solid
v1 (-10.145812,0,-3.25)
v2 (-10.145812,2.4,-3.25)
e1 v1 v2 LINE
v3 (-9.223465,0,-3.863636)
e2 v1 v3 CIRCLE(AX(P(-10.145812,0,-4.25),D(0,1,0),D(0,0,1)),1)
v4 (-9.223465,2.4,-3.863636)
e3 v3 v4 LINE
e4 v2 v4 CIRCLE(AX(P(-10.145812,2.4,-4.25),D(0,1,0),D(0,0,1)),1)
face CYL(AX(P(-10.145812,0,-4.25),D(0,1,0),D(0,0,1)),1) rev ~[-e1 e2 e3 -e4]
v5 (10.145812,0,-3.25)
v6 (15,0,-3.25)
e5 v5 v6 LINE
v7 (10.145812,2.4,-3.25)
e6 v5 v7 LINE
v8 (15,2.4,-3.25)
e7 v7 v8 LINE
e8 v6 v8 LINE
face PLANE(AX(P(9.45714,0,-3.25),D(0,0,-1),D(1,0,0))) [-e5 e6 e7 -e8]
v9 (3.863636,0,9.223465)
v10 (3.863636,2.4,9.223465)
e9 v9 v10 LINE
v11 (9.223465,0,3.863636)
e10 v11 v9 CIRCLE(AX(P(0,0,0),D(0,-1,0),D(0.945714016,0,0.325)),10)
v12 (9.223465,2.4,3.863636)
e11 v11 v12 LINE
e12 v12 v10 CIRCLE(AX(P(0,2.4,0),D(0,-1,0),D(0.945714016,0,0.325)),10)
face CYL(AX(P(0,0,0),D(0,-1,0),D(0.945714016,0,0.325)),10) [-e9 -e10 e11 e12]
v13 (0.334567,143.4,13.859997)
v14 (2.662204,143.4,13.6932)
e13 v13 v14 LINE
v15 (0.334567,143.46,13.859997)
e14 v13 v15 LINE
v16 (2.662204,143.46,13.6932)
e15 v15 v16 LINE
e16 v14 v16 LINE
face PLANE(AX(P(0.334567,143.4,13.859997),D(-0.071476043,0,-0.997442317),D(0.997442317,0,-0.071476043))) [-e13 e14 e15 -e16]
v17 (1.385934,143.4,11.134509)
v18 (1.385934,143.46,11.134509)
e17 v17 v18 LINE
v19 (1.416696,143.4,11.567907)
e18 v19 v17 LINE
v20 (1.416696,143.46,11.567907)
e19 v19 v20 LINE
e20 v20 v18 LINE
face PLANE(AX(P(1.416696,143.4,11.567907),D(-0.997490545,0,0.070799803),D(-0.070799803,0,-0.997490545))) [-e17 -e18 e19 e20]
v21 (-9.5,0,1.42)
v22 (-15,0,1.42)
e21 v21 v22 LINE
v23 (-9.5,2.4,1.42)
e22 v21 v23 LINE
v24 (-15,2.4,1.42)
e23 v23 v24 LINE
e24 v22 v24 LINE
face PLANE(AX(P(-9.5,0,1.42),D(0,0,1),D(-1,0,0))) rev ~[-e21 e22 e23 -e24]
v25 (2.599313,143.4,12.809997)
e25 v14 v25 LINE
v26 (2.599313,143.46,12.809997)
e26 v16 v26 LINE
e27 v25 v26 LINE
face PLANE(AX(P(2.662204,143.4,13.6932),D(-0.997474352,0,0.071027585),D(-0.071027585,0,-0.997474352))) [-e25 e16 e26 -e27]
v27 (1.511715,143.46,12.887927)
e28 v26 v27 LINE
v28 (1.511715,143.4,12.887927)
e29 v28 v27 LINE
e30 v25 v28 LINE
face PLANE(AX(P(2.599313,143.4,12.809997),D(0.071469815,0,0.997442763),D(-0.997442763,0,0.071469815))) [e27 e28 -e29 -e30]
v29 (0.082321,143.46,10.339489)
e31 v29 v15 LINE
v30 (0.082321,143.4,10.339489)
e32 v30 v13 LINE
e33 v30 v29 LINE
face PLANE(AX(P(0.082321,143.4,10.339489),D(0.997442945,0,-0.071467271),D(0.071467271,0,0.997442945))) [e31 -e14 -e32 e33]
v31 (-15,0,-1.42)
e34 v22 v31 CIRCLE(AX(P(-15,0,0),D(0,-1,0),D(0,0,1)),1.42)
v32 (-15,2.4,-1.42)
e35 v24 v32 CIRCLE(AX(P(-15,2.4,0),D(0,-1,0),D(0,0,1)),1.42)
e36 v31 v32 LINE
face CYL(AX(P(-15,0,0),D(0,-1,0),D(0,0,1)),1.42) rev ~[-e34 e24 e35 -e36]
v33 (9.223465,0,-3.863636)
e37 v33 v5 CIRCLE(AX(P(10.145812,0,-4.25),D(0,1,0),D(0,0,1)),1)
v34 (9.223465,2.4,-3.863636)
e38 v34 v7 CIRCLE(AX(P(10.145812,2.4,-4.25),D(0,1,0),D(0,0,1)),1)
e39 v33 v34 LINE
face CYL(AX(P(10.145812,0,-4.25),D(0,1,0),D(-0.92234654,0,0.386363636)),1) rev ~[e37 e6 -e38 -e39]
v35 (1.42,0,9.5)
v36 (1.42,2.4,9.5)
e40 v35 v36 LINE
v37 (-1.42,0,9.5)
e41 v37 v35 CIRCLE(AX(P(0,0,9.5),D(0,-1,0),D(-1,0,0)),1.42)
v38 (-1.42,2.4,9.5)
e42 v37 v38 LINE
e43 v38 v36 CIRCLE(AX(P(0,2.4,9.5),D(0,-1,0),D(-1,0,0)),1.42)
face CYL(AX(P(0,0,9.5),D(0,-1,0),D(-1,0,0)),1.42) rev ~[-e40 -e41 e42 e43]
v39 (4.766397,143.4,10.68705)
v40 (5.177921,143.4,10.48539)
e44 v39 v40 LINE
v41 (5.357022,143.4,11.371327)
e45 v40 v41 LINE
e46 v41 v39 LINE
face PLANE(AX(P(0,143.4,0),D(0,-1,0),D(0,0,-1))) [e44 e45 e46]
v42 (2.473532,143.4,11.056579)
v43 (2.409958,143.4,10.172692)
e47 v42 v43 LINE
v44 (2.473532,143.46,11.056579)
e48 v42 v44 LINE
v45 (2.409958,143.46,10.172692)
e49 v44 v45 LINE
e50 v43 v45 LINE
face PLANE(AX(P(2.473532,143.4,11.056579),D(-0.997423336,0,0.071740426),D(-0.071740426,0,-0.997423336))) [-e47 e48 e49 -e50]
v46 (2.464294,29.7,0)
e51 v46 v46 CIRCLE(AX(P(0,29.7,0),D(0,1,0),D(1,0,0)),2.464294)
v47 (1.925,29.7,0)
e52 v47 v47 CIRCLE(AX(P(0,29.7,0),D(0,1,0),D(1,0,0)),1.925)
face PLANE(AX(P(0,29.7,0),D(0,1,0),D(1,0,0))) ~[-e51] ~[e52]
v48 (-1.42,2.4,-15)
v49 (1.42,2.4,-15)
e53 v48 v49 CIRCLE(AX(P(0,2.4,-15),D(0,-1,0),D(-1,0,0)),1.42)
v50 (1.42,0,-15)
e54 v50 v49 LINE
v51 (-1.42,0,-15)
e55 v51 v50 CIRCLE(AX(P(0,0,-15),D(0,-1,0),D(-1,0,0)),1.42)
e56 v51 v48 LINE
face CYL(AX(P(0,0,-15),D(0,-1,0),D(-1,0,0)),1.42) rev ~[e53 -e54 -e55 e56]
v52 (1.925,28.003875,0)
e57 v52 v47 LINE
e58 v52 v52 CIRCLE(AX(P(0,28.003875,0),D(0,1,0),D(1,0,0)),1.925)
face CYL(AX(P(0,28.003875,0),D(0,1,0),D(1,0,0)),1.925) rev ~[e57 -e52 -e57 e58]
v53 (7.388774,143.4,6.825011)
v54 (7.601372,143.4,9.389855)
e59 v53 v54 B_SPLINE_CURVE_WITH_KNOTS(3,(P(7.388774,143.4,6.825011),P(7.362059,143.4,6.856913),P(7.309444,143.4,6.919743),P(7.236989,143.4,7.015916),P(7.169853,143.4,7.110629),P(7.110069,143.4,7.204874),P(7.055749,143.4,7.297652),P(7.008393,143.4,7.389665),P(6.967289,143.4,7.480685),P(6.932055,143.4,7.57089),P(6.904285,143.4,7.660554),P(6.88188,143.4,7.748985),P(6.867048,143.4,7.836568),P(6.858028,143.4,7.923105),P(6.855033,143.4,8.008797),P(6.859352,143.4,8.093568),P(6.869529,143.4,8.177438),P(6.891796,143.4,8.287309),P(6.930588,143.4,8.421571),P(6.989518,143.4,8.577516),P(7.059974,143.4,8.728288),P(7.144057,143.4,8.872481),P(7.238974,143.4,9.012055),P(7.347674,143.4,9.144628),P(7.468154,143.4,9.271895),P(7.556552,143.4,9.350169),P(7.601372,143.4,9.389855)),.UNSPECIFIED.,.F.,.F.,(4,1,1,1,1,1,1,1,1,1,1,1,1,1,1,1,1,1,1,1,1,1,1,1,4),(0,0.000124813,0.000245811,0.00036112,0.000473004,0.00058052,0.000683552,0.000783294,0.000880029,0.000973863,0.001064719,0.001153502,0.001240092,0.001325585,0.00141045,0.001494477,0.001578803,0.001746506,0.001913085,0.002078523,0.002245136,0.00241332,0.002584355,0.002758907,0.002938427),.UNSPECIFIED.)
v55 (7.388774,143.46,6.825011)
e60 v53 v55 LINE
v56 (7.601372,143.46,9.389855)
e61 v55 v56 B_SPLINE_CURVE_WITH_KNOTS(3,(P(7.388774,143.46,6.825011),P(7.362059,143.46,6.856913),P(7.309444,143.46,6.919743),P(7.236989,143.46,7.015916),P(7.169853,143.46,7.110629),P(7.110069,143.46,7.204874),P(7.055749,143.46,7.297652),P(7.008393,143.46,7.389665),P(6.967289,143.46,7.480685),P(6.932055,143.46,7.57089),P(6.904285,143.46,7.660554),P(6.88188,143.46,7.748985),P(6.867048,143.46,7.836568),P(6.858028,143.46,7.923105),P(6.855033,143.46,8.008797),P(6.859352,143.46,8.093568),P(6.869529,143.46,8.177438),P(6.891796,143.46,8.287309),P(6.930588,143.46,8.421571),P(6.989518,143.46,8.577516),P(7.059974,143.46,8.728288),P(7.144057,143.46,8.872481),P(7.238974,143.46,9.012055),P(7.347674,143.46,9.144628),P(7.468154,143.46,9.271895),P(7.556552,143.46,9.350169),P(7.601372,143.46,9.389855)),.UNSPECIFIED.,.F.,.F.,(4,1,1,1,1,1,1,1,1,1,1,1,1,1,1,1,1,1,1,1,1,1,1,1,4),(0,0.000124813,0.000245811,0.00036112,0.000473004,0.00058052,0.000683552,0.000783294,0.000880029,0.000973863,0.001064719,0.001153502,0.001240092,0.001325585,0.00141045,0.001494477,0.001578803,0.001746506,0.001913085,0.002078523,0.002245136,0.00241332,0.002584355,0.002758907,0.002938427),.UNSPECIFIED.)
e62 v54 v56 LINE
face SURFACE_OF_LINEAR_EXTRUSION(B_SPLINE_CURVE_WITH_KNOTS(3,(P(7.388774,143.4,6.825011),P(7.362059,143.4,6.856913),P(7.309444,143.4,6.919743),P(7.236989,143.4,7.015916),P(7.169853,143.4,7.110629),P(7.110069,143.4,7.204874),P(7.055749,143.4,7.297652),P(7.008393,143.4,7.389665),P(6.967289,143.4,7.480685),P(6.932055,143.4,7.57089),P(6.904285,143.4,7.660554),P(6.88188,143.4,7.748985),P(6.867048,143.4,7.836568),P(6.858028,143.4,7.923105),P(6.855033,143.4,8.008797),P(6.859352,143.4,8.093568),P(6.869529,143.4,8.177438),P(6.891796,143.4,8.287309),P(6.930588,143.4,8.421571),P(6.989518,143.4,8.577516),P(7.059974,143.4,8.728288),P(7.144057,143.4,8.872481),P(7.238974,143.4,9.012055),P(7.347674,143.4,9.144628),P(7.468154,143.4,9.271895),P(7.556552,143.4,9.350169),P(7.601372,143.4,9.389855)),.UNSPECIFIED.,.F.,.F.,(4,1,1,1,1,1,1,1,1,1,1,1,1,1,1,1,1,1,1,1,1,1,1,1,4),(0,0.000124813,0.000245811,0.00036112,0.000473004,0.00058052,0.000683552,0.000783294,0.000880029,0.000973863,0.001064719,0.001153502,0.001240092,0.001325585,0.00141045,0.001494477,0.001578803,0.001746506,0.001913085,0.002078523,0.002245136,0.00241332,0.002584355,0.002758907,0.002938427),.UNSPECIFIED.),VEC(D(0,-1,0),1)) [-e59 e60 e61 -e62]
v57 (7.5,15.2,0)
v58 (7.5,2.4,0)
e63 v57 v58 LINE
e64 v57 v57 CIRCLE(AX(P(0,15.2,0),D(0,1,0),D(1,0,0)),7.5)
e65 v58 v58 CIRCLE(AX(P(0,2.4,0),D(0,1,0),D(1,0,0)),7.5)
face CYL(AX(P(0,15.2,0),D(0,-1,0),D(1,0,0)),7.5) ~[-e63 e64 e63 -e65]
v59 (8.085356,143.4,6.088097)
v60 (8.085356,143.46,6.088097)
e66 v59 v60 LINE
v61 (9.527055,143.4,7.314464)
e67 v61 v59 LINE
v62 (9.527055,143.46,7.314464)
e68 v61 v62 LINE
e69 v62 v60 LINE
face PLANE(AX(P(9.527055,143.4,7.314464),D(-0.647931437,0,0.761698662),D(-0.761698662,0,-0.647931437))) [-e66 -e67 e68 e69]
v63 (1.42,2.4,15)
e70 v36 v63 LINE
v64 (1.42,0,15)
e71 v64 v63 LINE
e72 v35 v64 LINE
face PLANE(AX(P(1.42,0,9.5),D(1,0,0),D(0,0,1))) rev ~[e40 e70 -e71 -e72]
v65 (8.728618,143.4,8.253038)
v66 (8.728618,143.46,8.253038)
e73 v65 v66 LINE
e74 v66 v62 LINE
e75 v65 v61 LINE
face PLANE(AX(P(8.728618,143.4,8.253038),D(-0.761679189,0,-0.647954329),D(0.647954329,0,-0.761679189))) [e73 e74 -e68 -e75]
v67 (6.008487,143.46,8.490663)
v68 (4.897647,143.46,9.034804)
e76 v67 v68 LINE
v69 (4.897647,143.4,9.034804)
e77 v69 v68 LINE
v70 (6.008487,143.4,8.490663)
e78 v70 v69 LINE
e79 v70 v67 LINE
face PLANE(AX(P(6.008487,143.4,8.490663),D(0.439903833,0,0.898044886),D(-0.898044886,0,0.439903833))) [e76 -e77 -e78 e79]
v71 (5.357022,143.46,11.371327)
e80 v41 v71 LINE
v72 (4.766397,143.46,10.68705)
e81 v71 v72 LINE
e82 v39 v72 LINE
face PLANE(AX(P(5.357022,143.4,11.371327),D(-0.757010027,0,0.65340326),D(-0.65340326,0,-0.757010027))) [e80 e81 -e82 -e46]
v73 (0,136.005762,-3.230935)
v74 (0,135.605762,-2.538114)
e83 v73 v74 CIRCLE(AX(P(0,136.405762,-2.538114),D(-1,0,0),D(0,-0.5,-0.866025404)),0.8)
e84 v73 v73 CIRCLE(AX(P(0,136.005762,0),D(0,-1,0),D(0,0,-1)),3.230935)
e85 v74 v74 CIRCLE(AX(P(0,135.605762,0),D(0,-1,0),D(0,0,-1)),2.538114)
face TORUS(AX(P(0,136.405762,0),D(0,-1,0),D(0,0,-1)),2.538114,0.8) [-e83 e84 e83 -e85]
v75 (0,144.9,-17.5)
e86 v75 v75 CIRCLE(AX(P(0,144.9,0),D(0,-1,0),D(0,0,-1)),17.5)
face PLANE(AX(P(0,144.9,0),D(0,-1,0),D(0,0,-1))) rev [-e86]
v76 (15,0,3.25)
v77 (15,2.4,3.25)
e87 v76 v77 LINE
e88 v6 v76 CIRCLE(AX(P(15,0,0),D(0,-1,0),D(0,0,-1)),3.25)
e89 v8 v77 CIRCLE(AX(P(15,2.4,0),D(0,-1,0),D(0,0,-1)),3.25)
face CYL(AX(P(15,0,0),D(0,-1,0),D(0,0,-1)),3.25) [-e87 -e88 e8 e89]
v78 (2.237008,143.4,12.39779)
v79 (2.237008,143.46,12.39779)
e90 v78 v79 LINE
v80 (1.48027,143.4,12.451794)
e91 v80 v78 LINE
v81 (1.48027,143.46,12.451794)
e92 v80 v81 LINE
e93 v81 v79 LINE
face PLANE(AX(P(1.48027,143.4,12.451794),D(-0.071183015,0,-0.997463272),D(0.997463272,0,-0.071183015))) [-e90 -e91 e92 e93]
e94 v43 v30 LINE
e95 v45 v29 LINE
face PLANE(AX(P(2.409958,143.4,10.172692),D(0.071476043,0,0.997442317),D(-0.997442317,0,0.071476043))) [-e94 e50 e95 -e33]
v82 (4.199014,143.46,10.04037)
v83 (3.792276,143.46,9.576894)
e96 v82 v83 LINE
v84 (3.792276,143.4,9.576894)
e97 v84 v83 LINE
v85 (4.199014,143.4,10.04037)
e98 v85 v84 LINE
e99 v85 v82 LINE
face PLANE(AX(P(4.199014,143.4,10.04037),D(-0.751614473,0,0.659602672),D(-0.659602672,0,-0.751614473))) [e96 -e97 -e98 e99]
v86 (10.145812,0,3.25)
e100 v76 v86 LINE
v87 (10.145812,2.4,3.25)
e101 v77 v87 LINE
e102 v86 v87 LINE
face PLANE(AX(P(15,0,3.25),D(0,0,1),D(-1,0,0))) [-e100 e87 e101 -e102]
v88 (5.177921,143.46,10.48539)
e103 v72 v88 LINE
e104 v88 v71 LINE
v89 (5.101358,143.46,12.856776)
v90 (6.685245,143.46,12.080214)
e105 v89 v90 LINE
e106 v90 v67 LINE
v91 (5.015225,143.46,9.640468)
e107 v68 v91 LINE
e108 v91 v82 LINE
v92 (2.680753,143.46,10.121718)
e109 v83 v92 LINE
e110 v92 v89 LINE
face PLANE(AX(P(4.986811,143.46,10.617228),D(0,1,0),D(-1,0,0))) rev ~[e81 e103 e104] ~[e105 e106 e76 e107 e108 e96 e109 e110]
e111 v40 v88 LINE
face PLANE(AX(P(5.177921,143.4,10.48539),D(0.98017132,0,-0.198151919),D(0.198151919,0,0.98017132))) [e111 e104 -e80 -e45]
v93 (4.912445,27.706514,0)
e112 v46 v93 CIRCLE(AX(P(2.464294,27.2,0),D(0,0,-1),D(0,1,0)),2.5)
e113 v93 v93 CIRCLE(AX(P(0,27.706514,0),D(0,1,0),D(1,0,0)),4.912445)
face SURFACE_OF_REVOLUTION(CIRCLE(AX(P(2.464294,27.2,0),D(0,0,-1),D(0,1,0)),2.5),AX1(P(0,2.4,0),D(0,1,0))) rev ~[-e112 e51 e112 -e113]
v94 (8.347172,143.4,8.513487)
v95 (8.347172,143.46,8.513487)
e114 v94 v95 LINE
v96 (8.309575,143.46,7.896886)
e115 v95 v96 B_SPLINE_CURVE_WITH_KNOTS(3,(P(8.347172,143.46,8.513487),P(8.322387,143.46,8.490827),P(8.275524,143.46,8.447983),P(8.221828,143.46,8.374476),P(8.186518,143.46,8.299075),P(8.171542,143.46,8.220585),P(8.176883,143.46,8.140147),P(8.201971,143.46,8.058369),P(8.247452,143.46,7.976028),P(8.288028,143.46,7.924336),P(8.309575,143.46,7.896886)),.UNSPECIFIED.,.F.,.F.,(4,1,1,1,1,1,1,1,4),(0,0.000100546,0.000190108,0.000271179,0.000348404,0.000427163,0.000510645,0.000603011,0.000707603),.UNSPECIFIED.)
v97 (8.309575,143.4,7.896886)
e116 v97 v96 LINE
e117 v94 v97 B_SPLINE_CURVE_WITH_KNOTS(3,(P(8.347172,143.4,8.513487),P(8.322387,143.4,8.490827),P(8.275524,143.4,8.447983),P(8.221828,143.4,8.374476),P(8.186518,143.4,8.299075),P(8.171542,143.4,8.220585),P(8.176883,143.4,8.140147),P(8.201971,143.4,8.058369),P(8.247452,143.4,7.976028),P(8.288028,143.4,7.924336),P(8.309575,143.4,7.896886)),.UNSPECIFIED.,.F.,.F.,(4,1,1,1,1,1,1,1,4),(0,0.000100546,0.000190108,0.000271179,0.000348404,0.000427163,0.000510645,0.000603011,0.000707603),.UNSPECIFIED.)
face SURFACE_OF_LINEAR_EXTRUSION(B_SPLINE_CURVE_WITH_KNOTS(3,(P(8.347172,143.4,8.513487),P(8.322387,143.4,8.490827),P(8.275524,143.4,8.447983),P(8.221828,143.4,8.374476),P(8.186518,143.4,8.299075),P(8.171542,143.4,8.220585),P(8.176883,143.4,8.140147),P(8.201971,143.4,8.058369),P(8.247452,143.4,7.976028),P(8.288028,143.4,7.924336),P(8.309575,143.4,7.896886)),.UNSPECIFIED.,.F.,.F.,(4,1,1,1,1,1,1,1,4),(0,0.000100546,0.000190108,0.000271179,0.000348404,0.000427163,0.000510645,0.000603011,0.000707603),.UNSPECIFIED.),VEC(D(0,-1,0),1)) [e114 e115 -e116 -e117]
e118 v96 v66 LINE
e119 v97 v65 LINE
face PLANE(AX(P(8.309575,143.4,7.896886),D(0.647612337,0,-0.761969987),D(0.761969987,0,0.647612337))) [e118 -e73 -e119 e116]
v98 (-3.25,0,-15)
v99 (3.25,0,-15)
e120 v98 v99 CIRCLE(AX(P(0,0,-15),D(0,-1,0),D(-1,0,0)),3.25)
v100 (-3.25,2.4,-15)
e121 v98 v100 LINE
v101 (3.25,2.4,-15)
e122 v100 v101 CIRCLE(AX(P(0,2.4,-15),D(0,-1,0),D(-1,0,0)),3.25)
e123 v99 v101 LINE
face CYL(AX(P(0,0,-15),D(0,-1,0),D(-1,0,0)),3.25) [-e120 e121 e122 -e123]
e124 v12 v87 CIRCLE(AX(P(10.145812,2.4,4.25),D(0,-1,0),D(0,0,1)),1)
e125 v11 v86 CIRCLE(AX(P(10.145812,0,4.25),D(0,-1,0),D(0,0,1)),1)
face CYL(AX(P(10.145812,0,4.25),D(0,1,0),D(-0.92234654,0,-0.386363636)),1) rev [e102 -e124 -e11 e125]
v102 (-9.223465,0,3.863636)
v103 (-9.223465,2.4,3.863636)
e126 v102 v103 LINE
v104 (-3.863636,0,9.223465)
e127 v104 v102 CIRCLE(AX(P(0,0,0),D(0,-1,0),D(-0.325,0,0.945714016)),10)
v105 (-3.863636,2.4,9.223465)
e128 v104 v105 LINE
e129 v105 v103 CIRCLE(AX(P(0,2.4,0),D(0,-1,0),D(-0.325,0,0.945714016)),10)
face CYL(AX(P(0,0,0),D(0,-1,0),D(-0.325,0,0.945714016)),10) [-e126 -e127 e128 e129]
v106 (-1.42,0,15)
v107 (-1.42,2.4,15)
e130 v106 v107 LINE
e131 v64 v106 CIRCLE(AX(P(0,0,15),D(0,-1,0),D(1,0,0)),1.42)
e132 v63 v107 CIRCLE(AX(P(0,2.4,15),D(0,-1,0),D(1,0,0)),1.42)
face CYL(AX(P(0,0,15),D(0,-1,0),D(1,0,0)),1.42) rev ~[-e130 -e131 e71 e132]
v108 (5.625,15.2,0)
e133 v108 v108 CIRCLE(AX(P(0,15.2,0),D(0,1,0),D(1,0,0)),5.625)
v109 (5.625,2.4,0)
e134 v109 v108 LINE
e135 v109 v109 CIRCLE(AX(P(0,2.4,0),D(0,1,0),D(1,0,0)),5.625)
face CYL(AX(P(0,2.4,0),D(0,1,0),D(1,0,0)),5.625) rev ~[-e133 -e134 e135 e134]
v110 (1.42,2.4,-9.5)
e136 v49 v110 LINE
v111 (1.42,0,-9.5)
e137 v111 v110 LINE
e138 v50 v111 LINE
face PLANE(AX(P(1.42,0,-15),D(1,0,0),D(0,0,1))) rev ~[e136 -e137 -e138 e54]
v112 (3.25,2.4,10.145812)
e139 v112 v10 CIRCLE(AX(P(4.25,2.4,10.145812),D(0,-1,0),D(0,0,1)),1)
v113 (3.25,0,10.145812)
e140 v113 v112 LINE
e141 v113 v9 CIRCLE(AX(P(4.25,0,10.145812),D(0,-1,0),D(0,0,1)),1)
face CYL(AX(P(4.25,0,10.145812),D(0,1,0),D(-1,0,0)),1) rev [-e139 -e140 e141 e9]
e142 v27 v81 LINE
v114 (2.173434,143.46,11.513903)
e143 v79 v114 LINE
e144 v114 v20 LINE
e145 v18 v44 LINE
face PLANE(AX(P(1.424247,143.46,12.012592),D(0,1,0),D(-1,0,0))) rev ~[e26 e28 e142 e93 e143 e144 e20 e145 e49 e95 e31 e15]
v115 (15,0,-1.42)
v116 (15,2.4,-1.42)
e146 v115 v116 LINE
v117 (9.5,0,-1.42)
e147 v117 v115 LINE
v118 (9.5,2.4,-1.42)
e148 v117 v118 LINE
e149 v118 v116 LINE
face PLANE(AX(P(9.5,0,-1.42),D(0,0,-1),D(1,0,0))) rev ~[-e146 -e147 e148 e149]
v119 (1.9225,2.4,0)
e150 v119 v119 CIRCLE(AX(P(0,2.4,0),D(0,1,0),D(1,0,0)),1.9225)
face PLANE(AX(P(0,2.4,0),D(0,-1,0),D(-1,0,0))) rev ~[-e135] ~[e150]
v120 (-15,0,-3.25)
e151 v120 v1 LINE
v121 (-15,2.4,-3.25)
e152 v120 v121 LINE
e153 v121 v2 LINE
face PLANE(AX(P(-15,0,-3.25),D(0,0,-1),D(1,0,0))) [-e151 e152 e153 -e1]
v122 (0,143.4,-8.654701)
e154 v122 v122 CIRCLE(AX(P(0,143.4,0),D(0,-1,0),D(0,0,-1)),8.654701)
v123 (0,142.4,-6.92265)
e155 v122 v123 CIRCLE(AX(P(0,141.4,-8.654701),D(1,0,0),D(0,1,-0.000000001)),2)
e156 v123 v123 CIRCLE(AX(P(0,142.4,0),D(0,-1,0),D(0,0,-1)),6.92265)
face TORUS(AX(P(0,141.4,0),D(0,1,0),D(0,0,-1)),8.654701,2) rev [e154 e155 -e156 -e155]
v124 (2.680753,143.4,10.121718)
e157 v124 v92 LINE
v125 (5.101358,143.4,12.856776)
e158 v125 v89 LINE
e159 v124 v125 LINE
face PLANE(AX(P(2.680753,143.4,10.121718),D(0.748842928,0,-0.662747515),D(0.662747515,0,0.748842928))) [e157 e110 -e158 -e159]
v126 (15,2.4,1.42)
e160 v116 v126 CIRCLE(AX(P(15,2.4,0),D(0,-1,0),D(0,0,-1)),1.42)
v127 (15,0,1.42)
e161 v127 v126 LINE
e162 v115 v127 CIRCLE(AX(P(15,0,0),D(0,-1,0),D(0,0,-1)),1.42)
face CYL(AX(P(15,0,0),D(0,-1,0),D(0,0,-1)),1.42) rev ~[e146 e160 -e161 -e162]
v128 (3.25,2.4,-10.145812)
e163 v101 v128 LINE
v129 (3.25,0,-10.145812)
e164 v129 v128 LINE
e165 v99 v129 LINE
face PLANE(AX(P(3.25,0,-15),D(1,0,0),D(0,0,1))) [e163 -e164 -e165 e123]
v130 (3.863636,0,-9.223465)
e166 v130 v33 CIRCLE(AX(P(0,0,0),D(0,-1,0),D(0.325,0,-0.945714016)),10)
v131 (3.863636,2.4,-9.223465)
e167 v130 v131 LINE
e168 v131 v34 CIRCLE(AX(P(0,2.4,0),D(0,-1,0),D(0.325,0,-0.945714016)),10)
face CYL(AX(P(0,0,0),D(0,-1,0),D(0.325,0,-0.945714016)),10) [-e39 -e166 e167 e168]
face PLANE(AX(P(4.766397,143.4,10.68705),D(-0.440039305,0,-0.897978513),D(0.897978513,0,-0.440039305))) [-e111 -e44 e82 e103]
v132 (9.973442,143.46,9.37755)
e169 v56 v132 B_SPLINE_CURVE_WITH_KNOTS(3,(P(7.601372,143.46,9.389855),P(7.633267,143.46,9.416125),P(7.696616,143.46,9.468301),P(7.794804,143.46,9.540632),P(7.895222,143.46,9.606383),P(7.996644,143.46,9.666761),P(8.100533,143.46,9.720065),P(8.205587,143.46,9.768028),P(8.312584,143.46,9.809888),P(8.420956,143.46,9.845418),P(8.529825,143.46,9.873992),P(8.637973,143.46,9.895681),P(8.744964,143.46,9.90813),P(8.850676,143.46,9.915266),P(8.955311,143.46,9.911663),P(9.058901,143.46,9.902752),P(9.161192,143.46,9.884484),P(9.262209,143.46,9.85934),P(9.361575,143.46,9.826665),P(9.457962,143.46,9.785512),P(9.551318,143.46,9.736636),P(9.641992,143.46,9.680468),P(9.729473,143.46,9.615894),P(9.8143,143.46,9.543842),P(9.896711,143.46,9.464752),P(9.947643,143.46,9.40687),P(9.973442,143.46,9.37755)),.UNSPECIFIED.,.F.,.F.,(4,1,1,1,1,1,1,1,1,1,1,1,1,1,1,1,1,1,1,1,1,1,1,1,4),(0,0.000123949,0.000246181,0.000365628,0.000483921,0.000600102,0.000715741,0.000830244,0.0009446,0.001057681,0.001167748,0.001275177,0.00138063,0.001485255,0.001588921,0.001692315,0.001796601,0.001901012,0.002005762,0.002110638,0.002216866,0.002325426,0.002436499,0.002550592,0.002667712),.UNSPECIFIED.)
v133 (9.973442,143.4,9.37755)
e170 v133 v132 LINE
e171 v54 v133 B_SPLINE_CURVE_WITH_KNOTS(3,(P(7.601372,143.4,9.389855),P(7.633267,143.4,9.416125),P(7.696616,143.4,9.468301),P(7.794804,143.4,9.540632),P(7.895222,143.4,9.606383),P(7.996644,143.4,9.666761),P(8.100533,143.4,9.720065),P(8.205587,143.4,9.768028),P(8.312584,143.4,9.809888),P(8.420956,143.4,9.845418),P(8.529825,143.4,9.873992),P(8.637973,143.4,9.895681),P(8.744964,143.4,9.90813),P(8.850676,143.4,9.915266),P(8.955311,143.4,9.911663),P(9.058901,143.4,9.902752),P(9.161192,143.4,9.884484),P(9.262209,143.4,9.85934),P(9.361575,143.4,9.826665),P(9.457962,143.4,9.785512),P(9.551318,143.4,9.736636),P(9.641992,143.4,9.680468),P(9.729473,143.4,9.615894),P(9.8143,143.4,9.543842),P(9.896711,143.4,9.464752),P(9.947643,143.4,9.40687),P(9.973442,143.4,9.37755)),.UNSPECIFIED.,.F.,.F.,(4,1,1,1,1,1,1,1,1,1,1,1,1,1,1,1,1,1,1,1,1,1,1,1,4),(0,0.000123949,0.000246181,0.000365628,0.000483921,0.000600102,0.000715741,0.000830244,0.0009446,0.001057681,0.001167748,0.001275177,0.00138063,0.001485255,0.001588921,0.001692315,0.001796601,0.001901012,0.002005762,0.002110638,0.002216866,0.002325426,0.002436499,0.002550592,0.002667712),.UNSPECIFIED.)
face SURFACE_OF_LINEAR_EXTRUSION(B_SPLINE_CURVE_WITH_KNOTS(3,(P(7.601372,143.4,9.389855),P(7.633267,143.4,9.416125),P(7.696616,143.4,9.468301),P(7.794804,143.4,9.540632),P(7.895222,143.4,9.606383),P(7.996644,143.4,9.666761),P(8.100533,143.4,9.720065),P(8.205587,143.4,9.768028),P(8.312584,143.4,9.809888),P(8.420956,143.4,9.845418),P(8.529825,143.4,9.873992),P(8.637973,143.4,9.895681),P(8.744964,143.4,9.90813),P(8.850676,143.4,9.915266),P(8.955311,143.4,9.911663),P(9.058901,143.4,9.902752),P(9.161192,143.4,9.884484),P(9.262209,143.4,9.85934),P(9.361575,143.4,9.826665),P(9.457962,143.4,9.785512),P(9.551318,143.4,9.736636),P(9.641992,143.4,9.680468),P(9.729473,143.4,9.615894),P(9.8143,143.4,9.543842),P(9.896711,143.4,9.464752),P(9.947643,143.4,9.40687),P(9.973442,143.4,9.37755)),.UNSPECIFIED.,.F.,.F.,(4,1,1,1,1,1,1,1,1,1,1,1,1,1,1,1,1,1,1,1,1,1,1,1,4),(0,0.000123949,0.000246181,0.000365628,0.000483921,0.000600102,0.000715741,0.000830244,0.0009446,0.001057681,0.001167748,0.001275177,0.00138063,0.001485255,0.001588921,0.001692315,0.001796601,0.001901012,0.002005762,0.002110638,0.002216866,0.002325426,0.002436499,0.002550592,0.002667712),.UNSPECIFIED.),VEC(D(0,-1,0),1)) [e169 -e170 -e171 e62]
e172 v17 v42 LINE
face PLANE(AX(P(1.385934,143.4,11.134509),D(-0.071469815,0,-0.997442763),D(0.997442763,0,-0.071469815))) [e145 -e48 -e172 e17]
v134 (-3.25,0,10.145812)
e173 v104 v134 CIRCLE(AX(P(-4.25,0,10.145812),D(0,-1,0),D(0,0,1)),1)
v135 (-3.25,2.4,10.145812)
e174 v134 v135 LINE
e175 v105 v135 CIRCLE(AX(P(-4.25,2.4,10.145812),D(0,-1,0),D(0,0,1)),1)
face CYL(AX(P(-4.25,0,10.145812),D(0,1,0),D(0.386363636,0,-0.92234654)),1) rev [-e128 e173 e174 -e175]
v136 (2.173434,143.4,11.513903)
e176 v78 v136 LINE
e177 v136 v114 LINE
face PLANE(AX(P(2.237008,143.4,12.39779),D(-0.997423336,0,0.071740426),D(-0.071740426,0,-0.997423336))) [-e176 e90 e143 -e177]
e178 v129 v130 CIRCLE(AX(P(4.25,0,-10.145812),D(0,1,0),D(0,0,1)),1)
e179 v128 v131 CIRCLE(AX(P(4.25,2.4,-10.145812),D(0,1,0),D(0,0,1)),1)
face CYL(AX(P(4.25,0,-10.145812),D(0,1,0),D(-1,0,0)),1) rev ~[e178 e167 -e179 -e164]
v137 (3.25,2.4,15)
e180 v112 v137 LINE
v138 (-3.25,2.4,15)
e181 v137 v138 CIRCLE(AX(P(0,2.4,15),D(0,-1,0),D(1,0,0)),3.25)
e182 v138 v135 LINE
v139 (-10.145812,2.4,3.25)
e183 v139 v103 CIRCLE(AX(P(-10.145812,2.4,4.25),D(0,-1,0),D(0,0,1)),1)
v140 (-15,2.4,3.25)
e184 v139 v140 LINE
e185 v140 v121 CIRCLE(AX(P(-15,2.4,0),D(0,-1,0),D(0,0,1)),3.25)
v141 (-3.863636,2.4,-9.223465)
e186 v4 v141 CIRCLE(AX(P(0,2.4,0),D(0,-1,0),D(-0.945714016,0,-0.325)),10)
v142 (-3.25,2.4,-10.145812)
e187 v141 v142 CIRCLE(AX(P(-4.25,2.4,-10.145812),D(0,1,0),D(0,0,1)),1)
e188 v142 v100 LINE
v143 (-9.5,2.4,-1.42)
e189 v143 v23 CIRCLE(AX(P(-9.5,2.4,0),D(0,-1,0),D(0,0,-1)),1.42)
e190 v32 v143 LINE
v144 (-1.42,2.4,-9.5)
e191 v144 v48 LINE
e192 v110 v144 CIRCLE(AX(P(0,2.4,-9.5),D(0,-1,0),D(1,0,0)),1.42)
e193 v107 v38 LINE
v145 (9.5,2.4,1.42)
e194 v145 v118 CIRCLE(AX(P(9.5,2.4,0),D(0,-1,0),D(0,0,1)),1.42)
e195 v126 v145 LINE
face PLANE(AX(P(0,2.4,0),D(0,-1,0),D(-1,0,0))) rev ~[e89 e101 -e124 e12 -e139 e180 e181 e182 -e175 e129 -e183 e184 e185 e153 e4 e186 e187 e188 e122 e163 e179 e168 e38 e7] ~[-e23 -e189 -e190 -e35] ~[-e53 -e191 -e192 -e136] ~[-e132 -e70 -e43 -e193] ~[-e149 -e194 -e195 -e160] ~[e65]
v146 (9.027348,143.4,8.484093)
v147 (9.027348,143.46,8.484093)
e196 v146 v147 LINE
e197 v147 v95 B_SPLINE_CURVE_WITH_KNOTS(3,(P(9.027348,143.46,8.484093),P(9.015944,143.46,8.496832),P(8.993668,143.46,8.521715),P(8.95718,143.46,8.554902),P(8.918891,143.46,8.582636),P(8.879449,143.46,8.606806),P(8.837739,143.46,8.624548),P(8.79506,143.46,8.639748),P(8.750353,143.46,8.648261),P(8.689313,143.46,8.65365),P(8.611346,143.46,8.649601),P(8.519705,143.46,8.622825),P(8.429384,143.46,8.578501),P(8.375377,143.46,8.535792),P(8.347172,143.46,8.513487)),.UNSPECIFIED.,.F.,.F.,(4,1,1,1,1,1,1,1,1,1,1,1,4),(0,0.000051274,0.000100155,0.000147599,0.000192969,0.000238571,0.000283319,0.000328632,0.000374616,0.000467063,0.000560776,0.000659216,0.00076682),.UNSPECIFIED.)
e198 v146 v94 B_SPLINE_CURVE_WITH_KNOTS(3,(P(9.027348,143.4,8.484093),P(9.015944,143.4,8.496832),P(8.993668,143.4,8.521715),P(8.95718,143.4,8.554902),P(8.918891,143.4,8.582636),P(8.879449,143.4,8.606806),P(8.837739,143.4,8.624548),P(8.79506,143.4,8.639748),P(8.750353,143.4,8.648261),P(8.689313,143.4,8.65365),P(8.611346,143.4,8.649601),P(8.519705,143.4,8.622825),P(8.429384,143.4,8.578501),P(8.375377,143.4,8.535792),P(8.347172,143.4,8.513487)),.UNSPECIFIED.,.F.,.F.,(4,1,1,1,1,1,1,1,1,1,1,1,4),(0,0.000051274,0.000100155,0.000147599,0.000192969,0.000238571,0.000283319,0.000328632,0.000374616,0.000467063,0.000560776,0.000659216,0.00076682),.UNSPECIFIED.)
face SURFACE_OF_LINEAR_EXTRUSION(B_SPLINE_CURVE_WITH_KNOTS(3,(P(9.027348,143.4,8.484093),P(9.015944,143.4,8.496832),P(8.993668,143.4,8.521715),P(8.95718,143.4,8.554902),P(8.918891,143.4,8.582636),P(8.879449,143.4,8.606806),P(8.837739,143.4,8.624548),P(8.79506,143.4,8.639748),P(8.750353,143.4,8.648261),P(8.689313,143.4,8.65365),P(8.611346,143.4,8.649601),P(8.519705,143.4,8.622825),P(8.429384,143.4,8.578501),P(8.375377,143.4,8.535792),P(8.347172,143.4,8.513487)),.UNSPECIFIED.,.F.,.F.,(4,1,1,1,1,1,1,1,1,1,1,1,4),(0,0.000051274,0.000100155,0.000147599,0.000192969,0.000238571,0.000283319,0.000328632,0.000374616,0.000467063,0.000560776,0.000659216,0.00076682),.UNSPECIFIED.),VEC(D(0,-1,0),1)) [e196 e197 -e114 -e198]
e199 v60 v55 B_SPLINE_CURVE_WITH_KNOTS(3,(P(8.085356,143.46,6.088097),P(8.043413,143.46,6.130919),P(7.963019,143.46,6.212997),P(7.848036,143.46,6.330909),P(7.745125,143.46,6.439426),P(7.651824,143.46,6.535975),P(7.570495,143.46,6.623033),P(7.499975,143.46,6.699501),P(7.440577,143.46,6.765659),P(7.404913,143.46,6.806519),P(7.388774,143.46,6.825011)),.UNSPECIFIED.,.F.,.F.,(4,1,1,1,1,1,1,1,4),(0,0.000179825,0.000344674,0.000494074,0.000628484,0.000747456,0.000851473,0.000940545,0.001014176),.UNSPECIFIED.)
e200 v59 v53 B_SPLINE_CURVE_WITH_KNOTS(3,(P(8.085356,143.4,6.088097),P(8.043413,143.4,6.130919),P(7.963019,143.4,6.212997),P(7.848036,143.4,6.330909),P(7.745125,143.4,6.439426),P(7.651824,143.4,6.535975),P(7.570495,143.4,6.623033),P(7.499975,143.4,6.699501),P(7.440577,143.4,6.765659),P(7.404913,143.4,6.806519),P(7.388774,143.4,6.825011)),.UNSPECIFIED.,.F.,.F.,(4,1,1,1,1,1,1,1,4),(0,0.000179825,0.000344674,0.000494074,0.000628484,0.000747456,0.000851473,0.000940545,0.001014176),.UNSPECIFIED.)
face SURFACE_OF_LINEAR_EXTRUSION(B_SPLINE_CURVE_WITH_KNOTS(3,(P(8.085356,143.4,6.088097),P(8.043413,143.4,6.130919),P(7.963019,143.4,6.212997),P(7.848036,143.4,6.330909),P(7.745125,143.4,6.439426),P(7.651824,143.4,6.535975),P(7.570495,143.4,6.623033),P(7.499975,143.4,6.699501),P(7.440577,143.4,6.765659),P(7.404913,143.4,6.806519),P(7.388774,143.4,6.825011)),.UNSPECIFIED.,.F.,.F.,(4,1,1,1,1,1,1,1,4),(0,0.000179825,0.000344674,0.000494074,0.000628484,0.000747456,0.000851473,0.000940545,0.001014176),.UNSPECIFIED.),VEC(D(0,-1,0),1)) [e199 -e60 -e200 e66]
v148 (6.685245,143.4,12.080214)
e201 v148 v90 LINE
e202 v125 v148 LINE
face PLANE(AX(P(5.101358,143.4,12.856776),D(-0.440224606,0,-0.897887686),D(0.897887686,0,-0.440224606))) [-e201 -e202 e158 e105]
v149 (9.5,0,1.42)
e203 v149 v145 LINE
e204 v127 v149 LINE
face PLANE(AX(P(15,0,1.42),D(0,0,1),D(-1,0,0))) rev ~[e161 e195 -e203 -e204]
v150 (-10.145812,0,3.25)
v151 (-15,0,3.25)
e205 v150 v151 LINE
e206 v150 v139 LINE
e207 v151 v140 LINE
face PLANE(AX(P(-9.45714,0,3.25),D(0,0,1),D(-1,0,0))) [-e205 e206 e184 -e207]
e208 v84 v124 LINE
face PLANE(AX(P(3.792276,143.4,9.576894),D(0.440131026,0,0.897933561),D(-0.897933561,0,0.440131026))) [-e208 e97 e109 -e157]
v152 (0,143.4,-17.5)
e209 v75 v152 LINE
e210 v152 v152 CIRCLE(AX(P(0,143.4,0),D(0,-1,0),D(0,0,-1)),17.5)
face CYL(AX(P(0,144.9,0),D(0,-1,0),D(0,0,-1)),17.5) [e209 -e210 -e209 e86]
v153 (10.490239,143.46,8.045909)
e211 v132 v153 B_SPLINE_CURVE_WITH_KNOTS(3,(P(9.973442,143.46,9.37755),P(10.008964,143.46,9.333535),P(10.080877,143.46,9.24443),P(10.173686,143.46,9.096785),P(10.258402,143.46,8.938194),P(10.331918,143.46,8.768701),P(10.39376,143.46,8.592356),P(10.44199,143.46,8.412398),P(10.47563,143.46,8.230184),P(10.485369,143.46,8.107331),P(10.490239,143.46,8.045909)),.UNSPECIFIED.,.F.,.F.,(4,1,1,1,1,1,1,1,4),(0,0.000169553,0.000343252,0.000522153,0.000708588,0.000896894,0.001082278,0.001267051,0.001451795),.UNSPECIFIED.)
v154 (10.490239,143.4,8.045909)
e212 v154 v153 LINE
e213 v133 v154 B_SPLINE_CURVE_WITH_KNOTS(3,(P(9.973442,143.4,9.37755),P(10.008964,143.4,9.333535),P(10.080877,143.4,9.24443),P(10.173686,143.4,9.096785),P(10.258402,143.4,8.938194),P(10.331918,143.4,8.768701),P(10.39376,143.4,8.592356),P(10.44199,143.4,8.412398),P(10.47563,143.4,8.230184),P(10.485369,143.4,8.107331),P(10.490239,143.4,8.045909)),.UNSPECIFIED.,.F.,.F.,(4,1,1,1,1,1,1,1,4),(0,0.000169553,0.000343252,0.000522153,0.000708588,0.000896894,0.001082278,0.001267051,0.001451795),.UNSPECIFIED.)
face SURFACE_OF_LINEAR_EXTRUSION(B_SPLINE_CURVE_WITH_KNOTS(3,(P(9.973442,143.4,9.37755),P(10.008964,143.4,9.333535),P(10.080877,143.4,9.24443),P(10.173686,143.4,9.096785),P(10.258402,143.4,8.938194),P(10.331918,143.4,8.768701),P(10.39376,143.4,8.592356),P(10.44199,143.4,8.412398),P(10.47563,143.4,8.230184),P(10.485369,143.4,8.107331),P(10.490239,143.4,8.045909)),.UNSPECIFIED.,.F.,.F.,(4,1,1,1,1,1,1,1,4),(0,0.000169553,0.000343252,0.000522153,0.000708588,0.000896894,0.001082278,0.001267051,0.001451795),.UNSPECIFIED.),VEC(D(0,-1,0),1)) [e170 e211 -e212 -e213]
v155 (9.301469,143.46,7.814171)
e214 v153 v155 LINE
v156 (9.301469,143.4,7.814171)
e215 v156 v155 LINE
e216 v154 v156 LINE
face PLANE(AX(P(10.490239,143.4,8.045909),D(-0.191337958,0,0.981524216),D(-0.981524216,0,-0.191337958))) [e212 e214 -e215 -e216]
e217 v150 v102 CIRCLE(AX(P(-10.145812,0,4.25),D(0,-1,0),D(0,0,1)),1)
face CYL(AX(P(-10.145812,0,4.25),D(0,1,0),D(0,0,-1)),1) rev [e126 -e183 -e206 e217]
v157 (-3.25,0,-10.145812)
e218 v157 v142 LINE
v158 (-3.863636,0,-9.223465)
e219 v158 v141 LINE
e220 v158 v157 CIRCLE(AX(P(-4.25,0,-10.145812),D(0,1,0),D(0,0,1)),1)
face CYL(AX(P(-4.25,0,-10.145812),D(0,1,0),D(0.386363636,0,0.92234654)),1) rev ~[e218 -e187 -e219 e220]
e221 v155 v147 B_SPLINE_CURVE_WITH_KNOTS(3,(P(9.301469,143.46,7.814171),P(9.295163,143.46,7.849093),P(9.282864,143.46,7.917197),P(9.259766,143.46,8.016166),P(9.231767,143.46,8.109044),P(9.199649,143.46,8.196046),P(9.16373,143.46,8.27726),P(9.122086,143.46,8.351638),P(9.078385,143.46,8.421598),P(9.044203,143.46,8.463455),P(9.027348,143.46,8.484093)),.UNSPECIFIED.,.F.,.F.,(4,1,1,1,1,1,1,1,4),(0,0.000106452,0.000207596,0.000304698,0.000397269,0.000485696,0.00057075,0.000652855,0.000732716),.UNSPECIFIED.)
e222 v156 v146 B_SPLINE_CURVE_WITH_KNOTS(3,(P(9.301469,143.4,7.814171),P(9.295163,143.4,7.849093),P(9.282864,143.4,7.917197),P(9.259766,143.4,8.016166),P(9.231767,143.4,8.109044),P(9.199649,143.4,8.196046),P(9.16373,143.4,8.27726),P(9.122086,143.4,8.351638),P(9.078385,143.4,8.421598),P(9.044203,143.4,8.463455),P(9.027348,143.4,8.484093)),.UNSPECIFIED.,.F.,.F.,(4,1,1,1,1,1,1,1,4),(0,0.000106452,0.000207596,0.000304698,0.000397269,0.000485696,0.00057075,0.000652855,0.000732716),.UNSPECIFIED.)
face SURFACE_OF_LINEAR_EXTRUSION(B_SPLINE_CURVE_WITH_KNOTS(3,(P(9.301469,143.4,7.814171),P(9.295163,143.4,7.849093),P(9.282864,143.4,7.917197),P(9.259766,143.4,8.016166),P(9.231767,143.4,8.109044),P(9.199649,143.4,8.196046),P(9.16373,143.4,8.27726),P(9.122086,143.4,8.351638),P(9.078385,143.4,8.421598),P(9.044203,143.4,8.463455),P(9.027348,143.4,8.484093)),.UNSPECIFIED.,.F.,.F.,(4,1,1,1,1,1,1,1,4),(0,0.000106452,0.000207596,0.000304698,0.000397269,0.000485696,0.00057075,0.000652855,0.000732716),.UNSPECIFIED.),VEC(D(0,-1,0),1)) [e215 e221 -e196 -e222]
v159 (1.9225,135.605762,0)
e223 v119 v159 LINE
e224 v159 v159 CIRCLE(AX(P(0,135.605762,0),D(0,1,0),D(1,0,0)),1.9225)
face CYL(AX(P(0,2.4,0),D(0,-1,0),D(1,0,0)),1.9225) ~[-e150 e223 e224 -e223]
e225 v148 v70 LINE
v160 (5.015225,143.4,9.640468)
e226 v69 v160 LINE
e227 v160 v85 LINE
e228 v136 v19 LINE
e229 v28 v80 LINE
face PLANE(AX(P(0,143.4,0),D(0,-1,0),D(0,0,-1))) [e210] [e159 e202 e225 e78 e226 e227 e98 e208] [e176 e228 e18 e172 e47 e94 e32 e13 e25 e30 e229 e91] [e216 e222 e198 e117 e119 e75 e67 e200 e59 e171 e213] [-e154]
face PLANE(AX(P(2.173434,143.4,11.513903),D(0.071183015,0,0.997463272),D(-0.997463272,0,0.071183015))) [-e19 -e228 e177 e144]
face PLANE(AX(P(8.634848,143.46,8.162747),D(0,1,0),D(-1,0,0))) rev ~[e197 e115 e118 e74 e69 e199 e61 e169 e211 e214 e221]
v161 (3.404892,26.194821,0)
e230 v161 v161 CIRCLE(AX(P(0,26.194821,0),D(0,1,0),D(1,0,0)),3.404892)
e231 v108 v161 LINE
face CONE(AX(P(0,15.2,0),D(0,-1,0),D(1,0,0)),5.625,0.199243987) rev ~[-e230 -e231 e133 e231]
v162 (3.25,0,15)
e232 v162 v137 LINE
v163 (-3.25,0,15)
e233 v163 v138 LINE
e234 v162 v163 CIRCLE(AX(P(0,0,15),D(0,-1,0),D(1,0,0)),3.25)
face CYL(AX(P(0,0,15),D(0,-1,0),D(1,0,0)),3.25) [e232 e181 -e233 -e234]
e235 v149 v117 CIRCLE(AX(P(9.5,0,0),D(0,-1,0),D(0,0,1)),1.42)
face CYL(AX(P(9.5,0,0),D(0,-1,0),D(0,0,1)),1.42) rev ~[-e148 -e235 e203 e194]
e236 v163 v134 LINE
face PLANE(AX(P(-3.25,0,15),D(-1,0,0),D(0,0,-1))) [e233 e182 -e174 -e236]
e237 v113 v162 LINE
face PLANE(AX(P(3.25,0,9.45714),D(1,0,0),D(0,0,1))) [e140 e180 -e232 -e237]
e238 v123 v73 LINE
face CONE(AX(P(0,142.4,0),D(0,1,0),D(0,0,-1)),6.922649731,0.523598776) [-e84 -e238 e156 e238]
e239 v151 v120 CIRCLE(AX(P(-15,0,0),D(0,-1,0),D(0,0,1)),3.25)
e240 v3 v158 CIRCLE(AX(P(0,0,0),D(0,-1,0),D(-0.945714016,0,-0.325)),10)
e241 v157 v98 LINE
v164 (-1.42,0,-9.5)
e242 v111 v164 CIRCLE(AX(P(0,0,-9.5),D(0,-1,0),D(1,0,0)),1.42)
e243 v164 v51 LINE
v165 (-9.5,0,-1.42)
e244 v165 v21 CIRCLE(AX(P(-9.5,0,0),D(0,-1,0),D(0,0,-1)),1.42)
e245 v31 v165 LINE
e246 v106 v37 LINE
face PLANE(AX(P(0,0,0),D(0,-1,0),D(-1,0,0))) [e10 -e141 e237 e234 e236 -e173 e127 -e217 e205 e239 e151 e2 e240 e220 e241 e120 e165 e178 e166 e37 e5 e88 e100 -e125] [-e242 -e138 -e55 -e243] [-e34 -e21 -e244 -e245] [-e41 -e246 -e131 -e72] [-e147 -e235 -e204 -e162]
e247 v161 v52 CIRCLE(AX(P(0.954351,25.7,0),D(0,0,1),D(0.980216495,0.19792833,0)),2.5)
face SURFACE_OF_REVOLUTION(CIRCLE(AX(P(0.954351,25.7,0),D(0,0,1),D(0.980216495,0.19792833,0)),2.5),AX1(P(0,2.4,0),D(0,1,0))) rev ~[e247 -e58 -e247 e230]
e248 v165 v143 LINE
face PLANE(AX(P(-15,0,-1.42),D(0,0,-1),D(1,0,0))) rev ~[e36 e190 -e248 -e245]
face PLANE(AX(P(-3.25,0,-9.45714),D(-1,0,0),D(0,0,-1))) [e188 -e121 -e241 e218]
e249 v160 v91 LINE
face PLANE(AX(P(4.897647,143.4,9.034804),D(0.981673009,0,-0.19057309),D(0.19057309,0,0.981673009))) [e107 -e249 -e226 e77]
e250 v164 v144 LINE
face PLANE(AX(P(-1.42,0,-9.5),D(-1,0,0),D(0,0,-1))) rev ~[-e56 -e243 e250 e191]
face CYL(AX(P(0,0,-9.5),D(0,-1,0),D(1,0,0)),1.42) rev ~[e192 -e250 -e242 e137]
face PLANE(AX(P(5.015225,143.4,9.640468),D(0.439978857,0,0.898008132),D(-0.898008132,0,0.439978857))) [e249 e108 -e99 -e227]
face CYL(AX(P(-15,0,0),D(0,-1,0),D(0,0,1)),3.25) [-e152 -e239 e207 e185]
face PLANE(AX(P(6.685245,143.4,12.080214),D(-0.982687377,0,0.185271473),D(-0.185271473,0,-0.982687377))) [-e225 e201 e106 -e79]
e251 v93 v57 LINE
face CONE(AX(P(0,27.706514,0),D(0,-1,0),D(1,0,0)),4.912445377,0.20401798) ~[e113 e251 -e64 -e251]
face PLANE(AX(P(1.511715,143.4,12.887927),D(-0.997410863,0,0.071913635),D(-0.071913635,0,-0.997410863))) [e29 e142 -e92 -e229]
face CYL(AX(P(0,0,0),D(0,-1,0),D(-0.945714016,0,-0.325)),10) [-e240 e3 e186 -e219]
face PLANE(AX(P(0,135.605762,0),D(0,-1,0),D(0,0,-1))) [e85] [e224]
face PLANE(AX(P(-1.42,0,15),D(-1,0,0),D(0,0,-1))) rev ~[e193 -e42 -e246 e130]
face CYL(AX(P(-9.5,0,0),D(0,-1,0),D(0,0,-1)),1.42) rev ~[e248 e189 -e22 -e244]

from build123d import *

# Parameters (mm, degrees)
BOSS_EXTRUDE1_DEPTH   = 2.4
FILLET1_R             = 1
SKETCH3_R             = 1.9225
BOSS_EXTRUDE2_DEPTH   = 141
KES_EKSTR_ZYON1_DEPTH = 0.06


with BuildPart() as part:
    # Sketch1 → Boss-Extrude1 (new body)
    with BuildSketch(Plane(origin=(0, 0, 0), x_dir=(1, 0, 0), z_dir=(0, 1, 0))):
        with BuildLine():
            Line((-15, 3.25), (-9.45714016, 3.25))
            ThreePointArc((-9.45714016, 3.25), (-7.071067812, 7.071067812), (-3.25, 9.45714016))
            Line((-3.25, 9.45714016), (-3.25, 15))
            ThreePointArc((-3.25, 15), (0, 18.25), (3.25, 15))
            Line((3.25, 15), (3.25, 9.45714016))
            ThreePointArc((3.25, 9.45714016), (7.071067812, 7.071067812), (9.45714016, 3.25))
            Line((9.45714016, 3.25), (15, 3.25))
            ThreePointArc((15, 3.25), (18.25, 0), (15, -3.25))
            Line((15, -3.25), (9.45714016, -3.25))
            ThreePointArc((9.45714016, -3.25), (7.071067812, -7.071067812), (3.25, -9.45714016))
            Line((3.25, -9.45714016), (3.25, -15))
            ThreePointArc((3.25, -15), (0, -18.25), (-3.25, -15))
            Line((-3.25, -15), (-3.25, -9.45714016))
            ThreePointArc((-3.25, -9.45714016), (-7.071067812, -7.071067812), (-9.45714016, -3.25))
            Line((-9.45714016, -3.25), (-15, -3.25))
            ThreePointArc((-15, -3.25), (-18.25, 0), (-15, 3.25))
        make_face()
        with BuildLine():
            Line((-15, 1.42), (-9.5, 1.42))
            ThreePointArc((-9.5, 1.42), (-8.08, 0), (-9.5, -1.42))
            Line((-9.5, -1.42), (-15, -1.42))
            ThreePointArc((-15, -1.42), (-16.42, 0), (-15, 1.42))
        make_face(mode=Mode.SUBTRACT)
        with BuildLine():
            Line((1.42, 15), (1.42, 9.5))
            ThreePointArc((1.42, 9.5), (0, 8.08), (-1.42, 9.5))
            Line((-1.42, 9.5), (-1.42, 15))
            ThreePointArc((-1.42, 15), (0, 16.42), (1.42, 15))
        make_face(mode=Mode.SUBTRACT)
        with BuildLine():
            Line((15, -1.42), (9.5, -1.42))
            ThreePointArc((9.5, -1.42), (8.08, 0), (9.5, 1.42))
            Line((9.5, 1.42), (15, 1.42))
            ThreePointArc((15, 1.42), (16.42, 0), (15, -1.42))
        make_face(mode=Mode.SUBTRACT)
        with BuildLine():
            Line((-1.42, -15), (-1.42, -9.5))
            ThreePointArc((-1.42, -9.5), (0, -8.08), (1.42, -9.5))
            Line((1.42, -9.5), (1.42, -15))
            ThreePointArc((1.42, -15), (0, -16.42), (-1.42, -15))
        make_face(mode=Mode.SUBTRACT)
    extrude(amount=BOSS_EXTRUDE1_DEPTH)

    # Fillet1
    fillet1_edges = [part.edges().sort_by_distance(p)[0] for p in [
        (-9.45714016, 1.2, -3.25),
        (-3.25, 1.2, -9.45714016),
        (3.25, 1.2, -9.45714016),
        (9.45714016, 1.2, -3.25),
        (9.45714016, 1.2, 3.25),
        (3.25, 1.2, 9.45714016),
        (-3.25, 1.2, 9.45714016),
        (-9.45714016, 1.2, 3.25),
    ]]
    fillet(fillet1_edges, radius=FILLET1_R)

    # Sketch2 → Revolve1 (revolve)
    with BuildSketch(Plane.XY):
        with BuildLine():
            Line((1.925, 29.7), (2.464294328, 29.7))
            ThreePointArc((2.464294328, 29.7), (4.04285617, 29.138592921), (4.912445377, 27.70651401))
            Line((4.912445377, 27.70651401), (7.5, 15.2))
            Line((7.5, 15.2), (7.5, 2.4))
            Line((7.5, 2.4), (5.625, 2.4))
            Line((5.625, 2.4), (5.625, 15.2))
            Line((5.625, 15.2), (3.404891948, 26.194820827))
            ThreePointArc((3.404891948, 26.194820827), (2.889371485, 27.2829386), (1.925, 28.003874988))
            Line((1.925, 28.003874988), (1.925, 29.7))
        make_face()
    revolve(axis=Axis((0, 2.4, 0), (0, 1, 0)))

    # Sketch3 → Boss-Extrude2 (add)
    with BuildSketch(Plane(origin=(0, 2.4, 0), x_dir=(1, 0, 0), z_dir=(0, 1, 0))):
        Circle(SKETCH3_R)
    extrude(amount=BOSS_EXTRUDE2_DEPTH)

    # Sketch4 → Revolve2 (revolve)
    with BuildSketch(Plane(origin=(0, 0, 0), x_dir=(0, 0, -1), z_dir=(1, 0, 0))):
        with BuildLine():
            Line((6.922649731, 142.4), (3.230934575, 136.005761782))
            ThreePointArc((3.230934575, 136.005761782), (2.938114252, 135.712941459), (2.538114252, 135.605761782))
            Line((2.538114252, 135.605761782), (1.9225, 135.605761782))
            Line((1.9225, 135.605761782), (1.9225, 143.4))
            Line((1.9225, 143.4), (0, 143.4))
            Line((0, 143.4), (0, 144.9))
            Line((0, 144.9), (17.5, 144.9))
            Line((17.5, 144.9), (17.5, 143.4))
            Line((17.5, 143.4), (8.654700538, 143.4))
            ThreePointArc((8.654700538, 143.4), (7.654700538, 143.132050808), (6.922649731, 142.4))
        make_face()
    revolve(axis=Axis((0, 143.4, 0), (0, -1, 0)))

    # Çizim1 → Kes-Ekstrüzyon1 (cut)
    with BuildSketch(Plane.XZ.offset(-143.4)):
        Polygon((2.473531895, 11.056579199), (2.409957676, 10.172692481), (0.082320957, 10.339489356), (0.334567051, 13.859997168), (2.66220377, 13.693200293), (2.599313145, 12.809997168), (1.511715488, 12.887926856), (1.480270176, 12.451794043), (2.237008457, 12.397790137), (2.173434238, 11.513903418), (1.416695957, 11.567907324), (1.385934238, 11.134508887), align=None)
        Polygon((3.792276096, 9.57689352), (2.680752659, 10.121717739), (5.101358127, 12.856776332), (6.685244846, 12.080213832), (6.008487034, 8.490663051), (4.89764719, 9.034803676), (5.015225315, 9.640467739), (4.199014377, 10.040370082), align=None)
        Polygon((4.76639719, 10.68704977), (5.177920627, 10.485389614), (5.35702219, 11.371327114), align=None, mode=Mode.SUBTRACT)
        with BuildLine():
            Line((10.49023887, 8.045909213), (9.301469339, 7.814170932))
            add(Edge.make_bspline(
                [(9.301469339, 7.814170932), (9.295162601, 7.849093276), (9.282863589, 7.91719668), (9.259765757, 8.016165899), (9.231766875, 8.109044475), (9.199649304, 8.196046435), (9.163730366, 8.277260103), (9.122086055, 8.351638268), (9.078384744, 8.421598141), (9.044202502, 8.463454613), (9.027348245, 8.484092807)],
                knots=[0, 0, 0, 0, 0.000106452, 0.000207596, 0.000304698, 0.000397269, 0.000485696, 0.00057075, 0.000652855, 0.000732716, 0.000732716, 0.000732716, 0.000732716], degree=3))
            add(Edge.make_bspline(
                [(9.027348245, 8.484092807), (9.01594409, 8.496831925), (8.993668142, 8.52171548), (8.957180327, 8.554902215), (8.918891069, 8.58263641), (8.879448715, 8.606805989), (8.837738681, 8.624547904), (8.795060394, 8.639748228), (8.750352942, 8.648261409), (8.689312805, 8.653650441), (8.61134576, 8.649600922), (8.51970475, 8.622824869), (8.429383641, 8.578500593), (8.375376925, 8.535791651), (8.347172464, 8.513487338)],
                knots=[0, 0, 0, 0, 5.1274e-05, 0.000100155, 0.000147599, 0.000192969, 0.000238571, 0.000283319, 0.000328632, 0.000374616, 0.000467063, 0.000560776, 0.000659216, 0.00076682, 0.00076682, 0.00076682, 0.00076682], degree=3))
            add(Edge.make_bspline(
                [(8.347172464, 8.513487338), (8.32238698, 8.49082732), (8.275523945, 8.447982998), (8.221828166, 8.374475546), (8.186518469, 8.299074978), (8.171541706, 8.220584969), (8.176882746, 8.140146557), (8.201970979, 8.058369087), (8.24745169, 7.976028431), (8.288027536, 7.924336237), (8.309574808, 7.896885776)],
                knots=[0, 0, 0, 0, 0.000100546, 0.000190108, 0.000271179, 0.000348404, 0.000427163, 0.000510645, 0.000603011, 0.000707603, 0.000707603, 0.000707603, 0.000707603], degree=3))
            Line((8.309574808, 7.896885776), (8.728617776, 8.253038119))
            Line((8.728617776, 8.253038119), (9.527055276, 7.314463901))
            Line((9.527055276, 7.314463901), (8.085356058, 6.088096713))
            add(Edge.make_bspline(
                [(8.085356058, 6.088096713), (8.043412666, 6.130918963), (7.963019255, 6.212996893), (7.848036495, 6.330909372), (7.745125301, 6.439426088), (7.651824198, 6.535975119), (7.570495488, 6.623033205), (7.499975002, 6.699500807), (7.440576701, 6.765659164), (7.404913451, 6.806519435), (7.388774026, 6.825010776)],
                knots=[0, 0, 0, 0, 0.000179825, 0.000344674, 0.000494074, 0.000628484, 0.000747456, 0.000851473, 0.000940545, 0.001014176, 0.001014176, 0.001014176, 0.001014176], degree=3))
            add(Edge.make_bspline(
                [(7.388774026, 6.825010776), (7.362058603, 6.85691328), (7.309444418, 6.919743064), (7.236989178, 7.015916122), (7.169853497, 7.110629262), (7.110069184, 7.204873936), (7.055748887, 7.297651818), (7.008392801, 7.389665379), (6.967289467, 7.480685486), (6.932054654, 7.570889978), (6.904285219, 7.660554079), (6.881879716, 7.748984602), (6.867047818, 7.836567991), (6.8580281, 7.923104859), (6.855033423, 8.008796842), (6.859351934, 8.093567562), (6.869528685, 8.177437845), (6.89179563, 8.287308778), (6.930587621, 8.421570582), (6.989518301, 8.577515834), (7.059974362, 8.728287923), (7.144056677, 8.87248116), (7.238974286, 9.012055008), (7.347673596, 9.144627972), (7.468154157, 9.271895089), (7.556552427, 9.35016865), (7.601371683, 9.389854526)],
                knots=[0, 0, 0, 0, 0.000124813, 0.000245811, 0.00036112, 0.000473004, 0.00058052, 0.000683552, 0.000783294, 0.000880029, 0.000973863, 0.001064719, 0.001153502, 0.001240092, 0.001325585, 0.00141045, 0.001494477, 0.001578803, 0.001746506, 0.001913085, 0.002078523, 0.002245136, 0.00241332, 0.002584355, 0.002758907, 0.002938427, 0.002938427, 0.002938427, 0.002938427], degree=3))
            add(Edge.make_bspline(
                [(7.601371683, 9.389854526), (7.633267182, 9.416124727), (7.696616127, 9.468301038), (7.794804449, 9.540632275), (7.89522225, 9.606383047), (7.996644151, 9.666761034), (8.100532816, 9.720065252), (8.205586837, 9.768027651), (8.312583613, 9.809888085), (8.420955565, 9.84541849), (8.529824651, 9.873991879), (8.63797322, 9.895680951), (8.744963509, 9.908130177), (8.850675885, 9.915266481), (8.955311133, 9.911662891), (9.058901226, 9.902751782), (9.161192476, 9.884483788), (9.262208706, 9.859340021), (9.361575353, 9.826665303), (9.457961526, 9.785512166), (9.551318063, 9.73663609), (9.641991537, 9.680468107), (9.72947251, 9.615894492), (9.814300197, 9.543841789), (9.89671096, 9.464752006), (9.947642677, 9.406869871), (9.973441995, 9.377549838)],
                knots=[0, 0, 0, 0, 0.000123949, 0.000246181, 0.000365628, 0.000483921, 0.000600102, 0.000715741, 0.000830244, 0.0009446, 0.001057681, 0.001167748, 0.001275177, 0.00138063, 0.001485255, 0.001588921, 0.001692315, 0.001796601, 0.001901012, 0.002005762, 0.002110638, 0.002216866, 0.002325426, 0.002436499, 0.002550592, 0.002667712, 0.002667712, 0.002667712, 0.002667712], degree=3))
            add(Edge.make_bspline(
                [(9.973441995, 9.377549838), (10.008964061, 9.333535211), (10.080876677, 9.244429836), (10.173686342, 9.096785456), (10.258402353, 8.938194374), (10.331918381, 8.768701017), (10.393760496, 8.59235643), (10.441989787, 8.412398366), (10.475629511, 8.230183983), (10.485369339, 8.107330913), (10.49023887, 8.045909213)],
                knots=[0, 0, 0, 0, 0.000169553, 0.000343252, 0.000522153, 0.000708588, 0.000896894, 0.001082278, 0.001267051, 0.001451795, 0.001451795, 0.001451795, 0.001451795], degree=3))
        make_face()
    extrude(amount=-KES_EKSTR_ZYON1_DEPTH, mode=Mode.SUBTRACT)


solid = part.part
